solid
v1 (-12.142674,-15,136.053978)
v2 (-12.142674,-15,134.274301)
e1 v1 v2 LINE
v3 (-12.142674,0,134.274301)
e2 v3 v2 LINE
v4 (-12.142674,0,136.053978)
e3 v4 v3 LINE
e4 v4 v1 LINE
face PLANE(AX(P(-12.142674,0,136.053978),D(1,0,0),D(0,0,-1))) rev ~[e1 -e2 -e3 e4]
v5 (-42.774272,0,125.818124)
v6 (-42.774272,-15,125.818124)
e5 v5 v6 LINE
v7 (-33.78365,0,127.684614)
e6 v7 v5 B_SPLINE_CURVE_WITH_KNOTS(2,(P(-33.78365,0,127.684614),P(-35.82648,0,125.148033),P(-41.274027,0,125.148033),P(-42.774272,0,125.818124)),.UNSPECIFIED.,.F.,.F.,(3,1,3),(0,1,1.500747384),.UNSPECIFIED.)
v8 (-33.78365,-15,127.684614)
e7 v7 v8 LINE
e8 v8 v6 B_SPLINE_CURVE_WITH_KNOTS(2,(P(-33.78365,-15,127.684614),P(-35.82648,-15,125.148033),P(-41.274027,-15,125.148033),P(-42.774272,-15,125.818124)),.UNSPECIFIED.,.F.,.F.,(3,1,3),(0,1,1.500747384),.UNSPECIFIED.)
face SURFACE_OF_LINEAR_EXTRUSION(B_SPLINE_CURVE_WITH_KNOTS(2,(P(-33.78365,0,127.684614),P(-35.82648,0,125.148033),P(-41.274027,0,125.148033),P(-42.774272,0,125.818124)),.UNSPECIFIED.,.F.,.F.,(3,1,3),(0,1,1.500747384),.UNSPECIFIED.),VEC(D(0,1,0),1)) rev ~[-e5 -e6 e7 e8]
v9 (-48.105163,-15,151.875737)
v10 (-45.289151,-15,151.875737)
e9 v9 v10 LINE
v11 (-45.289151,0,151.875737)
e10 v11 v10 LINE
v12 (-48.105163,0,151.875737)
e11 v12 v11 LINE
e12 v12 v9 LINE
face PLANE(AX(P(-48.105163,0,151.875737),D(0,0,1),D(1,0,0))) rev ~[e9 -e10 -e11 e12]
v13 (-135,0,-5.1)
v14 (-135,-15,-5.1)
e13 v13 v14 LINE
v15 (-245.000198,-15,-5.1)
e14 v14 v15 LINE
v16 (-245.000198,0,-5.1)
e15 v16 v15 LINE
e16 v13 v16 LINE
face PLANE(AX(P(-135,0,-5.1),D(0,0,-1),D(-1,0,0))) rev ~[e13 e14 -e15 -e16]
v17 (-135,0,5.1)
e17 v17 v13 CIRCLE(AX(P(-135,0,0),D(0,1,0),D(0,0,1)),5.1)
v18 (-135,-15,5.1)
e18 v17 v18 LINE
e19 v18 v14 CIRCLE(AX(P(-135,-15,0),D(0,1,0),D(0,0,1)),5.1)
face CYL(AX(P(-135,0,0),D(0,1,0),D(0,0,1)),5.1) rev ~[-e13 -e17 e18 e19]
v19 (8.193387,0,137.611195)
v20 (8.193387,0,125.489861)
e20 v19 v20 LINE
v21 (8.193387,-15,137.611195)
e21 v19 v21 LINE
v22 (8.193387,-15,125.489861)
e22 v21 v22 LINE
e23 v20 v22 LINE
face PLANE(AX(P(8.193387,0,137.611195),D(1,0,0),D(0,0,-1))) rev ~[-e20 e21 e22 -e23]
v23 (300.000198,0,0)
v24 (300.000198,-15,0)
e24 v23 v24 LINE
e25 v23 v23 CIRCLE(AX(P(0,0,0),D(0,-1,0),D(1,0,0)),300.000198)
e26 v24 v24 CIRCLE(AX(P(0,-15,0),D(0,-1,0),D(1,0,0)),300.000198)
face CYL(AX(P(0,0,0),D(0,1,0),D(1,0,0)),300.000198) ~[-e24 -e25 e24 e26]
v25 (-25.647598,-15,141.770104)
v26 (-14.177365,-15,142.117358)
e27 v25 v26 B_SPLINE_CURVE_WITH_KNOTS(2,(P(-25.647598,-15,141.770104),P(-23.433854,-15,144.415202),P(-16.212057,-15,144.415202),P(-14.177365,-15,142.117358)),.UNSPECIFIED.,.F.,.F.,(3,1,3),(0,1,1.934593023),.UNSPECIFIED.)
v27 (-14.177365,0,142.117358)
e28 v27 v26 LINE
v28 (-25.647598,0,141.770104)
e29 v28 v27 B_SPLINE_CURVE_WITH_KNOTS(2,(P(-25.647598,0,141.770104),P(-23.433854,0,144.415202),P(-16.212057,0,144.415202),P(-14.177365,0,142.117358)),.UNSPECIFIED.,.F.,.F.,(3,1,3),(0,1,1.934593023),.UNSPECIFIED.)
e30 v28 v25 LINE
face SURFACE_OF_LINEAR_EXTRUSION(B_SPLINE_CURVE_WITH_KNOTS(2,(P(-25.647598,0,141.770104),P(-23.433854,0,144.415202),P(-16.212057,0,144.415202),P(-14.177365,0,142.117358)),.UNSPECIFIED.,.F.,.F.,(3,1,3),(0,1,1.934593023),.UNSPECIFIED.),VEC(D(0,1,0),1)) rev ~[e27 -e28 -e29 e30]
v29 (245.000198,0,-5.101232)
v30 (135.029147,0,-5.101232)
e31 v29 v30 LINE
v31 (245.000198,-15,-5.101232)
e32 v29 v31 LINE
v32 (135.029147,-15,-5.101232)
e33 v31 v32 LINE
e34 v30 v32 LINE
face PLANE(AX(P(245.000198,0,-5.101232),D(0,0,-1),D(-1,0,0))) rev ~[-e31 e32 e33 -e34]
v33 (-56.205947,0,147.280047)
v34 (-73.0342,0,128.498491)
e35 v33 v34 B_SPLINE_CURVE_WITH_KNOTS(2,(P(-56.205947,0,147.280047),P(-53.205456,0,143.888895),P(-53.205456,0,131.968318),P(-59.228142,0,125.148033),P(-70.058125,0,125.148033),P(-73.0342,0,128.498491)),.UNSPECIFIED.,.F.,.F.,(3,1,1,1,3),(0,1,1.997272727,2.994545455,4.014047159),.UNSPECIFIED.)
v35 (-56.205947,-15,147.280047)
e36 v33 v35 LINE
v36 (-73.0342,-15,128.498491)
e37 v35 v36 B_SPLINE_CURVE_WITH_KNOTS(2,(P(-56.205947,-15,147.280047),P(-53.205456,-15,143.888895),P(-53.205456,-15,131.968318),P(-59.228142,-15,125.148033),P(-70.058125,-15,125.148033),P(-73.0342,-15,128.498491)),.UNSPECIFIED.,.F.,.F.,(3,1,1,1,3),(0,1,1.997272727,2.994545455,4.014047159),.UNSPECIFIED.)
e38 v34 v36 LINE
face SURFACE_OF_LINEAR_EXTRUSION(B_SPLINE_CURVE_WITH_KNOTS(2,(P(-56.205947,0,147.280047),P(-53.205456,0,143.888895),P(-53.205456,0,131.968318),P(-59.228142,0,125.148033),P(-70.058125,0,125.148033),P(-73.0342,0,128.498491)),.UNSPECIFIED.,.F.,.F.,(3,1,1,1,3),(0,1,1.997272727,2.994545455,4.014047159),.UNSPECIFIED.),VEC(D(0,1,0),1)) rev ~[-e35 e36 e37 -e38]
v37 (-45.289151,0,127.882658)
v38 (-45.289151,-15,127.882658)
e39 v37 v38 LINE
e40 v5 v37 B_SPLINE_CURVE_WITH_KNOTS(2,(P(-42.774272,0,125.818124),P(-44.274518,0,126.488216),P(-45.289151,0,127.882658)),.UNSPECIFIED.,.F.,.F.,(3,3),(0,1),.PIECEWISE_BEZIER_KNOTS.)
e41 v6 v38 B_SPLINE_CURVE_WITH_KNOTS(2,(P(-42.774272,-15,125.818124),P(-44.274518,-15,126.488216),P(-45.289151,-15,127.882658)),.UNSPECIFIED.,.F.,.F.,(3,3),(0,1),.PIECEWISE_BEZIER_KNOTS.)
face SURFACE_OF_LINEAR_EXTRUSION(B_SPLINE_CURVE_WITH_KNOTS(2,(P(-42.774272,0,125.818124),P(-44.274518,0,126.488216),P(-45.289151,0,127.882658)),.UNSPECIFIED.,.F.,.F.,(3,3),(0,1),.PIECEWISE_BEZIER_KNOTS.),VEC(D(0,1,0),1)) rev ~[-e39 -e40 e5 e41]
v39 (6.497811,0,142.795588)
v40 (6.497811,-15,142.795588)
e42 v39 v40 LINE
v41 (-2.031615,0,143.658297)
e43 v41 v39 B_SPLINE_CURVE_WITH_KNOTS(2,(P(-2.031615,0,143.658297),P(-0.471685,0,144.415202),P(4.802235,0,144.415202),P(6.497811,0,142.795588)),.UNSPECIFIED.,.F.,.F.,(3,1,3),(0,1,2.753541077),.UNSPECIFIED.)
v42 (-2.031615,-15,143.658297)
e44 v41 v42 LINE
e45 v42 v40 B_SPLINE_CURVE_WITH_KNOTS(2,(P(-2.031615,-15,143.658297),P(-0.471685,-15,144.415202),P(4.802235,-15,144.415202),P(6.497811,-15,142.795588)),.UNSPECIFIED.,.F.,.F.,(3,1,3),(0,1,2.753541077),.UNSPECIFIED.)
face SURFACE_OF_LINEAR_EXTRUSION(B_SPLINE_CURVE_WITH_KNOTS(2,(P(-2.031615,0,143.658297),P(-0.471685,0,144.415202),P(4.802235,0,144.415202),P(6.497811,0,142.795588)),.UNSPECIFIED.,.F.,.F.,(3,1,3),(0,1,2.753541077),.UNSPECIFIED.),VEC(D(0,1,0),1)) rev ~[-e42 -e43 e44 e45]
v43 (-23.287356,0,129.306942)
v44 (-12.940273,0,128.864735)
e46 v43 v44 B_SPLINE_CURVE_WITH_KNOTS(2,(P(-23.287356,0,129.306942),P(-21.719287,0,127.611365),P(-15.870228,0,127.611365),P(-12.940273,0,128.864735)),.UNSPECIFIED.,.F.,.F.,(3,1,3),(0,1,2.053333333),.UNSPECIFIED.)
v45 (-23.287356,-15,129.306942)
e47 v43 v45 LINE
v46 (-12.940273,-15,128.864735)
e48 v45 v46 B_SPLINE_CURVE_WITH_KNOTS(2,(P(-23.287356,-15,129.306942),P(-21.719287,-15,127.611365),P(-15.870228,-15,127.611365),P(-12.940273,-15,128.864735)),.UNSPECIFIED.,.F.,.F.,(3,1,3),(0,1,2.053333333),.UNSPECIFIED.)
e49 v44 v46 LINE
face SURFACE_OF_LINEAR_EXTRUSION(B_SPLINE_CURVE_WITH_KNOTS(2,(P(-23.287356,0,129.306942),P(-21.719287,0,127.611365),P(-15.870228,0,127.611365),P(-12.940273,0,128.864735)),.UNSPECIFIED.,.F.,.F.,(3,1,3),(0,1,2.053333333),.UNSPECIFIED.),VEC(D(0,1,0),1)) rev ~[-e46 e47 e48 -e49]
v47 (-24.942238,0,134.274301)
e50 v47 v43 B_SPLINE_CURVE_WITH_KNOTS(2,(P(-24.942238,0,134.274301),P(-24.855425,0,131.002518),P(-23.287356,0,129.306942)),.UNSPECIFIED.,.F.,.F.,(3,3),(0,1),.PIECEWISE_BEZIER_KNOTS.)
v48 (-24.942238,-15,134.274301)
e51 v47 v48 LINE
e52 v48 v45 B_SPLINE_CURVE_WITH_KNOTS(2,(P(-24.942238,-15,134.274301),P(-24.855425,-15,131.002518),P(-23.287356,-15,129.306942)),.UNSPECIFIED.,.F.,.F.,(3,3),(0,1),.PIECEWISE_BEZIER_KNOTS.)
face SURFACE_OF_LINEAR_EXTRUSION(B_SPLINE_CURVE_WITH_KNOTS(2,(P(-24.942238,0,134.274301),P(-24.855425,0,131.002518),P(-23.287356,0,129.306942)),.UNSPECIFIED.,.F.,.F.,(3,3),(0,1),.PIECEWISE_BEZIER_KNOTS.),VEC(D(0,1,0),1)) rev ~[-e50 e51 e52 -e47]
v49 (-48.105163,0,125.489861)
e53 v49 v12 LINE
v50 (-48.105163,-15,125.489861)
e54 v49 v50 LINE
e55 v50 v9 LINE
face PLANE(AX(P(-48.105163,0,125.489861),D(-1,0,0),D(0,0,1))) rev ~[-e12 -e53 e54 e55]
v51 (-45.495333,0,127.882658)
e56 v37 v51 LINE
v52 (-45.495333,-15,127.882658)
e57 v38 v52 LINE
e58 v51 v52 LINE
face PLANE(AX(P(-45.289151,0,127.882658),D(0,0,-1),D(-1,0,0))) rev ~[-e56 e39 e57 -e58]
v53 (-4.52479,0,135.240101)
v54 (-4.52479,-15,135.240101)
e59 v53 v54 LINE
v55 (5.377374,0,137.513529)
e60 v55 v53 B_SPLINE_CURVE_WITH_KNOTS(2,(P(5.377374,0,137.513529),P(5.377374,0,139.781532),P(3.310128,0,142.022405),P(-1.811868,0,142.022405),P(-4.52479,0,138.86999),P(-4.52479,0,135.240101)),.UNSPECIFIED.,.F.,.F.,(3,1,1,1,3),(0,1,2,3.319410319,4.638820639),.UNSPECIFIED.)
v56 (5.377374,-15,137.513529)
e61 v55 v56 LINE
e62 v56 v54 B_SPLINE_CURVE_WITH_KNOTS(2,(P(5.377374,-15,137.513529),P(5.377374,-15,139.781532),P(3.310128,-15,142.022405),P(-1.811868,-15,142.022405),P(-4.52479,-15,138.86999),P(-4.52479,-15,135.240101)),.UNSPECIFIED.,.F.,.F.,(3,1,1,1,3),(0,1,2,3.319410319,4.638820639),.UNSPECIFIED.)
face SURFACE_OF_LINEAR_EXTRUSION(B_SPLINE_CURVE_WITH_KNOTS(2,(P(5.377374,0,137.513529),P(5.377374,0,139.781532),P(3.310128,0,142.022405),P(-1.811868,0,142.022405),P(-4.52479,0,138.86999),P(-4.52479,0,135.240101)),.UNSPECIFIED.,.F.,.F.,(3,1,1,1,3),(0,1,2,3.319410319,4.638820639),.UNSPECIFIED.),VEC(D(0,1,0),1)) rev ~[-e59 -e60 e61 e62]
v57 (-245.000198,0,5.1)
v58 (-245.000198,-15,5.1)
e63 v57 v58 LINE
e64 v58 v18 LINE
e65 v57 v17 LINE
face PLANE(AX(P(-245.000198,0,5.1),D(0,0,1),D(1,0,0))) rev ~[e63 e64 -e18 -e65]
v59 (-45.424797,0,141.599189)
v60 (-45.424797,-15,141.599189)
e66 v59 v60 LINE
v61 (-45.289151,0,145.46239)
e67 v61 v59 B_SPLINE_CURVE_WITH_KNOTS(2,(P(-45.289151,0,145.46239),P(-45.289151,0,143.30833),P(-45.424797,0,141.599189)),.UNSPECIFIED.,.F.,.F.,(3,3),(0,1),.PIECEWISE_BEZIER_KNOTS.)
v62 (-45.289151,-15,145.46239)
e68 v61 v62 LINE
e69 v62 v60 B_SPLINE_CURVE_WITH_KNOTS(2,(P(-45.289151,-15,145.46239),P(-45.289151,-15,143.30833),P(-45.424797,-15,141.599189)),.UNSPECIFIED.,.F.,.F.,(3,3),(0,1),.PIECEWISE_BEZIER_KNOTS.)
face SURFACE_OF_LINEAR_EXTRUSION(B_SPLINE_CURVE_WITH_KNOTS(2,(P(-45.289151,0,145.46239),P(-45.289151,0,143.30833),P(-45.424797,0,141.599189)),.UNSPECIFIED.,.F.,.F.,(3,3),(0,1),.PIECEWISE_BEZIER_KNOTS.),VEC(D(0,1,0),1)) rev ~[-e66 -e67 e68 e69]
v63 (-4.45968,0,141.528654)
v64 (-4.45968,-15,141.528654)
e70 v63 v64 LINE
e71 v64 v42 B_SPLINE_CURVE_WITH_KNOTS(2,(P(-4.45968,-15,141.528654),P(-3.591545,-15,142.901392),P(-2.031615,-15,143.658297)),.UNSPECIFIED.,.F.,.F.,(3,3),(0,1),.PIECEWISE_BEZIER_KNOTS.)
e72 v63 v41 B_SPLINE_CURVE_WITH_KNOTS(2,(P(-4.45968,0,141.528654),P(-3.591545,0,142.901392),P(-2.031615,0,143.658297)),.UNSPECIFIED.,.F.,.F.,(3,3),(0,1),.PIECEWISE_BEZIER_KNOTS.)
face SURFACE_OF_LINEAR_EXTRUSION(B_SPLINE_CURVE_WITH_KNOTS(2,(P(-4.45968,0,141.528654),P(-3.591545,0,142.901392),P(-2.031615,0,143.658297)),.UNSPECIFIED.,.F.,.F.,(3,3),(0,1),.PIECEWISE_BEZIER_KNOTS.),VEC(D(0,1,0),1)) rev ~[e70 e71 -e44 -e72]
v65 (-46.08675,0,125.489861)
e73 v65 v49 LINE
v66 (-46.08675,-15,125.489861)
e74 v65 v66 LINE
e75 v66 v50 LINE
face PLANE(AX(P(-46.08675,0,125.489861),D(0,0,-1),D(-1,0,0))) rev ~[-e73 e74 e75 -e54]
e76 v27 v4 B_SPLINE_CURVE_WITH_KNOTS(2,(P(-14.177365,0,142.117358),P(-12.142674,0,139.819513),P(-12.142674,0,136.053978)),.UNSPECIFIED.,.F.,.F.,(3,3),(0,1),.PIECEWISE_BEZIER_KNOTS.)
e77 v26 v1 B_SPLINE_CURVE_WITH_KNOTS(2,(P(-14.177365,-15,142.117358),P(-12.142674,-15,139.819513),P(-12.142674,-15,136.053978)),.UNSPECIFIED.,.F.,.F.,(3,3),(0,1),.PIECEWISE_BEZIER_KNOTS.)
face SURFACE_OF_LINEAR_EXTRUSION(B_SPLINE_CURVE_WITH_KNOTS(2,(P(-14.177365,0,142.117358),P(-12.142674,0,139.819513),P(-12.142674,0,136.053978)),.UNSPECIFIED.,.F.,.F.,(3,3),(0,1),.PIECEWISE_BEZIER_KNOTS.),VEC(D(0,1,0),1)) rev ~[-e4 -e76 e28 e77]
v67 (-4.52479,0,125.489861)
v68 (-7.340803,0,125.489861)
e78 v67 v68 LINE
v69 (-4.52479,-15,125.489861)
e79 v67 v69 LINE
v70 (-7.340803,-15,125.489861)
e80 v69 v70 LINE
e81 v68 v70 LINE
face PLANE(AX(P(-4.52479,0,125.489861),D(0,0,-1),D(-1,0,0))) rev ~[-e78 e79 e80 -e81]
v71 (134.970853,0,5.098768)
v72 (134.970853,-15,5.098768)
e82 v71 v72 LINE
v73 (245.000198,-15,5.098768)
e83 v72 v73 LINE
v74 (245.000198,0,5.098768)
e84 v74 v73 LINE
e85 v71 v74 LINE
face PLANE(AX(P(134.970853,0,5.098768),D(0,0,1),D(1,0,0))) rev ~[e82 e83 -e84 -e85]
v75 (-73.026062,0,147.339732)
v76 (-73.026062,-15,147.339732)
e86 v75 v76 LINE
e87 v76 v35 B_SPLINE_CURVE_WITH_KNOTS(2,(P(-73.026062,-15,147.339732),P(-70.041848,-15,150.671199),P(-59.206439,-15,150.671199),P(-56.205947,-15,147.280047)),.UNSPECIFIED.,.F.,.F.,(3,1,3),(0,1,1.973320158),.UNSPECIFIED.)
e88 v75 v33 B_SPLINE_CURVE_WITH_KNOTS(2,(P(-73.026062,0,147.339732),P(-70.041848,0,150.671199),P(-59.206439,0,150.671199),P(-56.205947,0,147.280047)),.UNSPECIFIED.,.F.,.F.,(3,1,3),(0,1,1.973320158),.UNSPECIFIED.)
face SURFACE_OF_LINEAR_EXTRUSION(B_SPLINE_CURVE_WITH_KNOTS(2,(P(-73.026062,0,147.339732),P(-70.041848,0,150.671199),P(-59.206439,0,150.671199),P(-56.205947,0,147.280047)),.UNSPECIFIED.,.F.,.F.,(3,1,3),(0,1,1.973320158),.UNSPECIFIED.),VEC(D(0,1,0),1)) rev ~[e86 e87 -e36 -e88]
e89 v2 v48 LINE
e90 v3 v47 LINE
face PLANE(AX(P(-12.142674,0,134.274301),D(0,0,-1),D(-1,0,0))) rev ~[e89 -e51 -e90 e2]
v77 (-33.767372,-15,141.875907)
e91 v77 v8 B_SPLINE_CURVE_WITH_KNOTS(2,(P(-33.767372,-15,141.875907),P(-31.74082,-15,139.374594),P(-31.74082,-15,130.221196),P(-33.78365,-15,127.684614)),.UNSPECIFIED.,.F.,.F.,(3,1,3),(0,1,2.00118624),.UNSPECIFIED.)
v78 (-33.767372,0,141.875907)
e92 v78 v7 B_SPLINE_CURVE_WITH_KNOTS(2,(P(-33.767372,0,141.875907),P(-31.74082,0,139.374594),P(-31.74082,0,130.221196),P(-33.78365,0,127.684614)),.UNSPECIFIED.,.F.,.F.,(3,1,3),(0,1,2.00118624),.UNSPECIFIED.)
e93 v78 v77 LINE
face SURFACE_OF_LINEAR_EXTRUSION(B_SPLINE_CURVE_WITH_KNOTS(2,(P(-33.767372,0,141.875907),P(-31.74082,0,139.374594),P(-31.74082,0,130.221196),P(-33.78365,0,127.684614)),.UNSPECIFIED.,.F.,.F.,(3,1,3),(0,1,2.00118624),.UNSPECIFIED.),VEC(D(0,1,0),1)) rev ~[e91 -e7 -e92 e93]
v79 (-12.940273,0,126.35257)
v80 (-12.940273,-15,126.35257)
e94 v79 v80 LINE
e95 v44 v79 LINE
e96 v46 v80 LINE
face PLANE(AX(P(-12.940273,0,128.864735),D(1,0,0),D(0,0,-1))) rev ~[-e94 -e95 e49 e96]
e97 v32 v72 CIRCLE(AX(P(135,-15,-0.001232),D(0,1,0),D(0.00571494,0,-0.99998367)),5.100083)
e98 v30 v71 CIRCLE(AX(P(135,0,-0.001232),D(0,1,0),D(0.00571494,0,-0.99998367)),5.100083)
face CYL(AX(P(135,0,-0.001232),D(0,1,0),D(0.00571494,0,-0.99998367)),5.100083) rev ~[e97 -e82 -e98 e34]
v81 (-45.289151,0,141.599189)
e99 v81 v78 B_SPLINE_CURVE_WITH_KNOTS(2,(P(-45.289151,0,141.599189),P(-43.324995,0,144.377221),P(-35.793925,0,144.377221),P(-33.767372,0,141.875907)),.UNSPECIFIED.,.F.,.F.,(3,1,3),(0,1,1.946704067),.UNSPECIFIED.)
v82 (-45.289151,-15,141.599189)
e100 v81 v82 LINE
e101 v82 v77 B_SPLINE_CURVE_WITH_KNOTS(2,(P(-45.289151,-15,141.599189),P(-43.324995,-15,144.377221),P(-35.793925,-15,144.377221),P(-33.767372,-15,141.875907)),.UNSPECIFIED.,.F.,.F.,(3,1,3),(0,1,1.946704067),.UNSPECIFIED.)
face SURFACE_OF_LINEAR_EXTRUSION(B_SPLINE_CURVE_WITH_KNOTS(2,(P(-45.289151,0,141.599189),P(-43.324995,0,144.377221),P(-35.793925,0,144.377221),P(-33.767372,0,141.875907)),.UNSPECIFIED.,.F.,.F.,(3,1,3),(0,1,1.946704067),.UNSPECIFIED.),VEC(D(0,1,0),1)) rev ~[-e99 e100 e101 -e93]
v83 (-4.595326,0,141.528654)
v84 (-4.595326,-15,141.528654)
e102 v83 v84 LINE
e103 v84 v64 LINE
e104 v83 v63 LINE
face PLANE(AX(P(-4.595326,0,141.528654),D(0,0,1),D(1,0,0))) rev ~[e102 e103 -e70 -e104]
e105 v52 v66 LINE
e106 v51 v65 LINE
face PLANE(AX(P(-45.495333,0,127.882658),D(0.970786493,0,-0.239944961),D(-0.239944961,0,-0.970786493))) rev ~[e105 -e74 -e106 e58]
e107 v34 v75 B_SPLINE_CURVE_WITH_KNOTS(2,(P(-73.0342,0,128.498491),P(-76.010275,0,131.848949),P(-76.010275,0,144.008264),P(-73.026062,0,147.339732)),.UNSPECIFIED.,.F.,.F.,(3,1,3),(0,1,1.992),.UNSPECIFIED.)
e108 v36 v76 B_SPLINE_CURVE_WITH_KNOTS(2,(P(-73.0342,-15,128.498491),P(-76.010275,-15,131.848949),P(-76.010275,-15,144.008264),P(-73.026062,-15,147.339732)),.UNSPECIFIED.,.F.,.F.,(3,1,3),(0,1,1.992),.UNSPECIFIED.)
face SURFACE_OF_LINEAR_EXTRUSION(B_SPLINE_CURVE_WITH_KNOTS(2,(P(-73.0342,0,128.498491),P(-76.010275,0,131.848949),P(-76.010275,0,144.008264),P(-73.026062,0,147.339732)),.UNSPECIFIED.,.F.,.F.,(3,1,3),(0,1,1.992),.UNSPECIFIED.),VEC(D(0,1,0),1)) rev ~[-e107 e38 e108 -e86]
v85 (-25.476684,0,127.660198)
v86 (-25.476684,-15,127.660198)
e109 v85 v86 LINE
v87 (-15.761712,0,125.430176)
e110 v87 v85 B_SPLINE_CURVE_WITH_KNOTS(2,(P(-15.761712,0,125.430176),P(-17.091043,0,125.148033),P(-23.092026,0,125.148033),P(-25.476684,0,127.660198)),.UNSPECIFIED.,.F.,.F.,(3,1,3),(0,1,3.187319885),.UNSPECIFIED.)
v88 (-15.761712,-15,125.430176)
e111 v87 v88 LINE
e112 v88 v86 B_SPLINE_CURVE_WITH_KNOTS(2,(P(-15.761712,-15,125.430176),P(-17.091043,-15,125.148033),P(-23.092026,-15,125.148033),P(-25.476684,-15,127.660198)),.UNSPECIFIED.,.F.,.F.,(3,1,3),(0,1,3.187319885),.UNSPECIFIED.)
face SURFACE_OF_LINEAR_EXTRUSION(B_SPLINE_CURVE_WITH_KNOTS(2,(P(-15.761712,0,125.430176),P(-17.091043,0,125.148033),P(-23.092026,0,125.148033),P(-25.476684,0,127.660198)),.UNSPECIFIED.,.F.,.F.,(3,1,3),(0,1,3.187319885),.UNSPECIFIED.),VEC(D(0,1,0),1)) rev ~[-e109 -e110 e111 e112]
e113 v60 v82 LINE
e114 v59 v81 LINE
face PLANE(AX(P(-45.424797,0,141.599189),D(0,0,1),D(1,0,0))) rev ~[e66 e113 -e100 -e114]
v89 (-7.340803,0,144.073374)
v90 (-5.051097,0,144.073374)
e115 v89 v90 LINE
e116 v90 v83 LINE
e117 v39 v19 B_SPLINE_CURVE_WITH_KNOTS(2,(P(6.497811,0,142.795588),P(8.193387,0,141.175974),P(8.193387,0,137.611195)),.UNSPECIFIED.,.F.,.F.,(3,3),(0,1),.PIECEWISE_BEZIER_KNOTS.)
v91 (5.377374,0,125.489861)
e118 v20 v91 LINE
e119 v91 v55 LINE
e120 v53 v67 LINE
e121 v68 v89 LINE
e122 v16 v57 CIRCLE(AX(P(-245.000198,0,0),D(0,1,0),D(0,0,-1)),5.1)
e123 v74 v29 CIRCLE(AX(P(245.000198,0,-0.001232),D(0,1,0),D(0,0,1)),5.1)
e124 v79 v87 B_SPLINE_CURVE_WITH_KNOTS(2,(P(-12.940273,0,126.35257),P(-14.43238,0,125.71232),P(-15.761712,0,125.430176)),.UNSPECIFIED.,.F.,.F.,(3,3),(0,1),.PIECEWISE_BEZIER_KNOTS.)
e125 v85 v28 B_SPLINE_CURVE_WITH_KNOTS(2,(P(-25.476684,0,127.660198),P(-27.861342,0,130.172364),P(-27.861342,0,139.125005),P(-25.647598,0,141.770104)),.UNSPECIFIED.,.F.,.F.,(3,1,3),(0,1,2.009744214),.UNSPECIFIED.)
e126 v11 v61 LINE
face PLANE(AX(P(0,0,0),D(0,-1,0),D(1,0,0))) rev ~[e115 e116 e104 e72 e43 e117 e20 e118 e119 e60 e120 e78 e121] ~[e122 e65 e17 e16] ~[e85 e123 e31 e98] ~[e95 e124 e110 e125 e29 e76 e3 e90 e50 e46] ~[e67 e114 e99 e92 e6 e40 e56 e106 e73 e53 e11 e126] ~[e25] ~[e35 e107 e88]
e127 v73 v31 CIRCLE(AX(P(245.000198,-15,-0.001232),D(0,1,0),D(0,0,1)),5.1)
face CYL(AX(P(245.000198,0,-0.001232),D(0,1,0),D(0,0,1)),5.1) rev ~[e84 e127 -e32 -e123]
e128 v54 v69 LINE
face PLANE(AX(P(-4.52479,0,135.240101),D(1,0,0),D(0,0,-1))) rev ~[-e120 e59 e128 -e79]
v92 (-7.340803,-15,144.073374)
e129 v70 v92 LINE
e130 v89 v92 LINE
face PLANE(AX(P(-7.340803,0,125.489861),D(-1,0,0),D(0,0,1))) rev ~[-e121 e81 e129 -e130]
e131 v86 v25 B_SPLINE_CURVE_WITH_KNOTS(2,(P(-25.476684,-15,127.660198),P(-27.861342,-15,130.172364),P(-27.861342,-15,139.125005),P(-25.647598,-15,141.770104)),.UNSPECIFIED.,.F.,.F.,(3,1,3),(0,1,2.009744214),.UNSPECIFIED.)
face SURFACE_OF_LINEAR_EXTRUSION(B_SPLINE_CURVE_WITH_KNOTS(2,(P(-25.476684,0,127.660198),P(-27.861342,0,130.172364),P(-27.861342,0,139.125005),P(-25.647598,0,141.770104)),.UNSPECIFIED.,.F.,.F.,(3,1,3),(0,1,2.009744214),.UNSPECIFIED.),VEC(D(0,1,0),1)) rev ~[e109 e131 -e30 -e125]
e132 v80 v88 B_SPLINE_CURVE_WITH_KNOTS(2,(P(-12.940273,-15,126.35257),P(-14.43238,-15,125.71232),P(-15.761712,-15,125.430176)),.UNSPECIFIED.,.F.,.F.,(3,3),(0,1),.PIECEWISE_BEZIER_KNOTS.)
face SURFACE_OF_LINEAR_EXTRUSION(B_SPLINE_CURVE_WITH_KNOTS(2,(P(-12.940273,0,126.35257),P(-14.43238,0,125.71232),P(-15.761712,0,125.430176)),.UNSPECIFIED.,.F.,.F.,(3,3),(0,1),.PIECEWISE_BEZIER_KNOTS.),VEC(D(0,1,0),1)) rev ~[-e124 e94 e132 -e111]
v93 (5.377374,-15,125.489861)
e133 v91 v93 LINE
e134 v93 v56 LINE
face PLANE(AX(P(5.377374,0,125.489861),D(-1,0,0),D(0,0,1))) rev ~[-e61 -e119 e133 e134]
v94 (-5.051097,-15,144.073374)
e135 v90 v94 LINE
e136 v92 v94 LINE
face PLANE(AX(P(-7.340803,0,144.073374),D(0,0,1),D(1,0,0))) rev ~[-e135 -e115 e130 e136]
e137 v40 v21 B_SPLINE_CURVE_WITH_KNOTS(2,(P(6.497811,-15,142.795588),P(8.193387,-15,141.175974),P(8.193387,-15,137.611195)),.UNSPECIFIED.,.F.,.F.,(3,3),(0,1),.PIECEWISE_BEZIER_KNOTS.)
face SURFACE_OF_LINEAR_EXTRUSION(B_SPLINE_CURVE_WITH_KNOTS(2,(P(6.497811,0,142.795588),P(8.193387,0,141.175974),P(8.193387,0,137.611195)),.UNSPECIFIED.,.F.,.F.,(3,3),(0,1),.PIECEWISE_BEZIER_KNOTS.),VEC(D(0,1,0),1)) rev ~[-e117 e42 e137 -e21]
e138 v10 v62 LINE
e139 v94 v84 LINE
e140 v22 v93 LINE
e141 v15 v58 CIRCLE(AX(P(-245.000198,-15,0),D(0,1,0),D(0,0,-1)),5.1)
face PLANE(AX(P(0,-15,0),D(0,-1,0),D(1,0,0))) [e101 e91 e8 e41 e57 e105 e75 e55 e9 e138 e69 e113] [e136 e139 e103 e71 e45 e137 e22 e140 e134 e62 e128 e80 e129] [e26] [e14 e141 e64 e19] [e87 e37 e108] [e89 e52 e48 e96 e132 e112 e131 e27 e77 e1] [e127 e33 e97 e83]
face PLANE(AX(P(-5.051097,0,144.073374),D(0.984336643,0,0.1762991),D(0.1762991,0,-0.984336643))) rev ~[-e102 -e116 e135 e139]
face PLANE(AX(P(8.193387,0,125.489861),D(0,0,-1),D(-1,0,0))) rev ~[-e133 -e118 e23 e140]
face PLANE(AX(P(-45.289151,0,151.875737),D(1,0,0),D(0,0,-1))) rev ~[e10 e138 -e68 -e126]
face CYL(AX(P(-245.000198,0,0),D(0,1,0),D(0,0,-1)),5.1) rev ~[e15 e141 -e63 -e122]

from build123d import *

# Parameters (mm, degrees)
F0_R     = 300.0001975894
F1_DEPTH = 15


with BuildPart() as f1:
    # F0 (on Front) → F1 (new body)
    with BuildSketch(Plane.XZ):
        Circle(F0_R)
        with BuildLine():
            ThreePointArc((-245.0001975894, -5.1), (-250.1001975894, 0), (-245.0001975894, 5.1))
            Line((-245.0001975894, 5.1), (-135, 5.1))
            ThreePointArc((-135, 5.1), (-129.9, 0), (-135, -5.1))
            Line((-135, -5.1), (-245.0001975894, -5.1))
        make_face(mode=Mode.SUBTRACT)
        with BuildLine():
            ThreePointArc((135.0291466713, -5.1012321273), (129.9, -0.0303787986), (134.9708533287, 5.0987678727))
            Line((134.9708533287, 5.0987678727), (245.0001975894, 5.0987678727))
            ThreePointArc((245.0001975894, 5.0987678727), (250.1001975894, -0.0012321273), (245.0001975894, -5.1012321273))
            Line((245.0001975894, -5.1012321273), (135.0291466713, -5.1012321273))
        make_face(mode=Mode.SUBTRACT)
        with BuildLine():
            add(Edge.make_bspline(
                [(-56.2059473305, 147.280047389), (-53.2054559961, 143.8888953384), (-53.2054559961, 137.9204677295)],
                knots=[0, 0, 0, 1, 1, 1], degree=2))
            add(Edge.make_bspline(
                [(-53.2054559961, 137.9204677295), (-53.2054559961, 131.9683176504), (-56.216799017, 128.5581751484)],
                knots=[0, 0, 0, 1, 1, 1], degree=2))
            add(Edge.make_bspline(
                [(-56.216799017, 128.5581751484), (-59.2281420379, 125.1480326464), (-64.5834493561, 125.1480326464)],
                knots=[0, 0, 0, 1, 1, 1], degree=2))
            add(Edge.make_bspline(
                [(-64.5834493561, 125.1480326464), (-70.0581252264, 125.1480326464), (-73.034200266, 128.4984908723)],
                knots=[0, 0, 0, 1, 1, 1], degree=2))
            add(Edge.make_bspline(
                [(-73.034200266, 128.4984908723), (-76.0102753055, 131.8489490982), (-76.0102753055, 137.9530227892)],
                knots=[0, 0, 0, 1, 1, 1], degree=2))
            add(Edge.make_bspline(
                [(-76.0102753055, 137.9530227892), (-76.0102753055, 144.0082638906), (-73.0260615011, 147.339731665)],
                knots=[0, 0, 0, 1, 1, 1], degree=2))
            add(Edge.make_bspline(
                [(-73.0260615011, 147.339731665), (-70.0418476966, 150.6711994395), (-64.5508942964, 150.6711994395)],
                knots=[0, 0, 0, 1, 1, 1], degree=2))
            add(Edge.make_bspline(
                [(-64.5508942964, 150.6711994395), (-59.2064386648, 150.6711994395), (-56.2059473305, 147.280047389)],
                knots=[0, 0, 0, 1, 1, 1], degree=2))
        make_face(mode=Mode.SUBTRACT)
        with BuildLine():
            add(Edge.make_bspline(
                [(-45.2891506494, 141.5991894739), (-43.3249953817, 144.3772212337), (-39.4563691225, 144.3772212337)],
                knots=[0, 0, 0, 1, 1, 1], degree=2))
            add(Edge.make_bspline(
                [(-39.4563691225, 144.3772212337), (-35.7939249079, 144.3772212337), (-33.7673724425, 141.8759074812)],
                knots=[0, 0, 0, 1, 1, 1], degree=2))
            add(Edge.make_bspline(
                [(-33.7673724425, 141.8759074812), (-31.7408199771, 139.3745937288), (-31.7408199771, 134.800607843)],
                knots=[0, 0, 0, 1, 1, 1], degree=2))
            add(Edge.make_bspline(
                [(-31.7408199771, 134.800607843), (-31.7408199771, 130.221196114), (-33.7836499724, 127.6846143802)],
                knots=[0, 0, 0, 1, 1, 1], degree=2))
            add(Edge.make_bspline(
                [(-33.7836499724, 127.6846143802), (-35.8264799676, 125.1480326464), (-39.4563691225, 125.1480326464)],
                knots=[0, 0, 0, 1, 1, 1], degree=2))
            add(Edge.make_bspline(
                [(-39.4563691225, 125.1480326464), (-41.2740266216, 125.1480326464), (-42.7742722887, 125.8181242916)],
                knots=[0, 0, 0, 1, 1, 1], degree=2))
            add(Edge.make_bspline(
                [(-42.7742722887, 125.8181242916), (-44.2745179559, 126.4882159368), (-45.2891506494, 127.8826576599)],
                knots=[0, 0, 0, 1, 1, 1], degree=2))
            Line((-45.2891506494, 127.8826576599), (-45.4953326941, 127.8826576599))
            Line((-45.4953326941, 127.8826576599), (-46.0867496117, 125.4898607731))
            Line((-46.0867496117, 125.4898607731), (-48.1051633122, 125.4898607731))
            Line((-48.1051633122, 125.4898607731), (-48.1051633122, 151.8757366478))
            Line((-48.1051633122, 151.8757366478), (-45.2891506494, 151.8757366478))
            Line((-45.2891506494, 151.8757366478), (-45.2891506494, 145.4623898899))
            add(Edge.make_bspline(
                [(-45.2891506494, 145.4623898899), (-45.2891506494, 143.3083301074), (-45.4247967314, 141.5991894739)],
                knots=[0, 0, 0, 1, 1, 1], degree=2))
            Line((-45.4247967314, 141.5991894739), (-45.2891506494, 141.5991894739))
        make_face(mode=Mode.SUBTRACT)
        with BuildLine():
            add(Edge.make_bspline(
                [(-15.761711515, 125.430176497), (-17.0910431189, 125.1480326464), (-18.9738107373, 125.1480326464)],
                knots=[0, 0, 0, 1, 1, 1], degree=2))
            add(Edge.make_bspline(
                [(-18.9738107373, 125.1480326464), (-23.0920257875, 125.1480326464), (-25.4766839094, 127.6601980854)],
                knots=[0, 0, 0, 1, 1, 1], degree=2))
            add(Edge.make_bspline(
                [(-25.4766839094, 127.6601980854), (-27.8613420313, 130.1723635245), (-27.8613420313, 134.626980858)],
                knots=[0, 0, 0, 1, 1, 1], degree=2))
            add(Edge.make_bspline(
                [(-27.8613420313, 134.626980858), (-27.8613420313, 139.1250049378), (-25.6475979727, 141.7701035373)],
                knots=[0, 0, 0, 1, 1, 1], degree=2))
            add(Edge.make_bspline(
                [(-25.6475979727, 141.7701035373), (-23.4338539142, 144.4152021367), (-19.7008737369, 144.4152021367)],
                knots=[0, 0, 0, 1, 1, 1], degree=2))
            add(Edge.make_bspline(
                [(-19.7008737369, 144.4152021367), (-16.2120565074, 144.4152021367), (-14.177365277, 142.1173575072)],
                knots=[0, 0, 0, 1, 1, 1], degree=2))
            add(Edge.make_bspline(
                [(-14.177365277, 142.1173575072), (-12.1426740467, 139.8195128778), (-12.1426740467, 136.0539776409)],
                knots=[0, 0, 0, 1, 1, 1], degree=2))
            Line((-12.1426740467, 136.0539776409), (-12.1426740467, 134.2743010448))
            Line((-12.1426740467, 134.2743010448), (-24.9422383462, 134.2743010448))
            add(Edge.make_bspline(
                [(-24.9422383462, 134.2743010448), (-24.8554248537, 131.0025175464), (-23.2873561456, 129.3069415212)],
                knots=[0, 0, 0, 1, 1, 1], degree=2))
            add(Edge.make_bspline(
                [(-23.2873561456, 129.3069415212), (-21.7192874374, 127.6113654959), (-18.870719715, 127.6113654959)],
                knots=[0, 0, 0, 1, 1, 1], degree=2))
            add(Edge.make_bspline(
                [(-18.870719715, 127.6113654959), (-15.8702283807, 127.6113654959), (-12.940273009, 128.8647352938)],
                knots=[0, 0, 0, 1, 1, 1], degree=2))
            Line((-12.940273009, 128.8647352938), (-12.940273009, 126.3525698547))
            add(Edge.make_bspline(
                [(-12.940273009, 126.3525698547), (-14.4323799112, 125.7123203476), (-15.761711515, 125.430176497)],
                knots=[0, 0, 0, 1, 1, 1], degree=2))
        make_face(mode=Mode.SUBTRACT)
        with BuildLine():
            Line((8.1933865699, 125.4898607731), (5.3773739071, 125.4898607731))
            Line((5.3773739071, 125.4898607731), (5.3773739071, 137.5135294834))
            add(Edge.make_bspline(
                [(5.3773739071, 137.5135294834), (5.3773739071, 139.7815319748), (4.3437507621, 140.9019686123)],
                knots=[0, 0, 0, 1, 1, 1], degree=2))
            add(Edge.make_bspline(
                [(4.3437507621, 140.9019686123), (3.3101276171, 142.0224052498), (1.1018094018, 142.0224052498)],
                knots=[0, 0, 0, 1, 1, 1], degree=2))
            add(Edge.make_bspline(
                [(1.1018094018, 142.0224052498), (-1.81186844, 142.0224052498), (-3.1683292602, 140.4461977767)],
                knots=[0, 0, 0, 1, 1, 1], degree=2))
            add(Edge.make_bspline(
                [(-3.1683292602, 140.4461977767), (-4.5247900804, 138.8699903036), (-4.5247900804, 135.2401011488)],
                knots=[0, 0, 0, 1, 1, 1], degree=2))
            Line((-4.5247900804, 135.2401011488), (-4.5247900804, 125.4898607731))
            Line((-4.5247900804, 125.4898607731), (-7.3408027432, 125.4898607731))
            Line((-7.3408027432, 125.4898607731), (-7.3408027432, 144.07337401))
            Line((-7.3408027432, 144.07337401), (-5.0510968787, 144.07337401))
            Line((-5.0510968787, 144.07337401), (-4.5953260431, 141.5286535113))
            Line((-4.5953260431, 141.5286535113), (-4.459679961, 141.5286535113))
            add(Edge.make_bspline(
                [(-4.459679961, 141.5286535113), (-3.5915450361, 142.9013918613), (-2.0316150929, 143.658296999)],
                knots=[0, 0, 0, 1, 1, 1], degree=2))
            add(Edge.make_bspline(
                [(-2.0316150929, 143.658296999), (-0.4716851496, 144.4152021367), (1.4436375285, 144.4152021367)],
                knots=[0, 0, 0, 1, 1, 1], degree=2))
            add(Edge.make_bspline(
                [(1.4436375285, 144.4152021367), (4.8022345194, 144.4152021367), (6.4978105446, 142.7955879173)],
                knots=[0, 0, 0, 1, 1, 1], degree=2))
            add(Edge.make_bspline(
                [(6.4978105446, 142.7955879173), (8.1933865699, 141.175973698), (8.1933865699, 137.6111946625)],
                knots=[0, 0, 0, 1, 1, 1], degree=2))
            Line((8.1933865699, 137.6111946625), (8.1933865699, 125.4898607731))
        make_face(mode=Mode.SUBTRACT)
    extrude(amount=F1_DEPTH)


solid = f1.part
